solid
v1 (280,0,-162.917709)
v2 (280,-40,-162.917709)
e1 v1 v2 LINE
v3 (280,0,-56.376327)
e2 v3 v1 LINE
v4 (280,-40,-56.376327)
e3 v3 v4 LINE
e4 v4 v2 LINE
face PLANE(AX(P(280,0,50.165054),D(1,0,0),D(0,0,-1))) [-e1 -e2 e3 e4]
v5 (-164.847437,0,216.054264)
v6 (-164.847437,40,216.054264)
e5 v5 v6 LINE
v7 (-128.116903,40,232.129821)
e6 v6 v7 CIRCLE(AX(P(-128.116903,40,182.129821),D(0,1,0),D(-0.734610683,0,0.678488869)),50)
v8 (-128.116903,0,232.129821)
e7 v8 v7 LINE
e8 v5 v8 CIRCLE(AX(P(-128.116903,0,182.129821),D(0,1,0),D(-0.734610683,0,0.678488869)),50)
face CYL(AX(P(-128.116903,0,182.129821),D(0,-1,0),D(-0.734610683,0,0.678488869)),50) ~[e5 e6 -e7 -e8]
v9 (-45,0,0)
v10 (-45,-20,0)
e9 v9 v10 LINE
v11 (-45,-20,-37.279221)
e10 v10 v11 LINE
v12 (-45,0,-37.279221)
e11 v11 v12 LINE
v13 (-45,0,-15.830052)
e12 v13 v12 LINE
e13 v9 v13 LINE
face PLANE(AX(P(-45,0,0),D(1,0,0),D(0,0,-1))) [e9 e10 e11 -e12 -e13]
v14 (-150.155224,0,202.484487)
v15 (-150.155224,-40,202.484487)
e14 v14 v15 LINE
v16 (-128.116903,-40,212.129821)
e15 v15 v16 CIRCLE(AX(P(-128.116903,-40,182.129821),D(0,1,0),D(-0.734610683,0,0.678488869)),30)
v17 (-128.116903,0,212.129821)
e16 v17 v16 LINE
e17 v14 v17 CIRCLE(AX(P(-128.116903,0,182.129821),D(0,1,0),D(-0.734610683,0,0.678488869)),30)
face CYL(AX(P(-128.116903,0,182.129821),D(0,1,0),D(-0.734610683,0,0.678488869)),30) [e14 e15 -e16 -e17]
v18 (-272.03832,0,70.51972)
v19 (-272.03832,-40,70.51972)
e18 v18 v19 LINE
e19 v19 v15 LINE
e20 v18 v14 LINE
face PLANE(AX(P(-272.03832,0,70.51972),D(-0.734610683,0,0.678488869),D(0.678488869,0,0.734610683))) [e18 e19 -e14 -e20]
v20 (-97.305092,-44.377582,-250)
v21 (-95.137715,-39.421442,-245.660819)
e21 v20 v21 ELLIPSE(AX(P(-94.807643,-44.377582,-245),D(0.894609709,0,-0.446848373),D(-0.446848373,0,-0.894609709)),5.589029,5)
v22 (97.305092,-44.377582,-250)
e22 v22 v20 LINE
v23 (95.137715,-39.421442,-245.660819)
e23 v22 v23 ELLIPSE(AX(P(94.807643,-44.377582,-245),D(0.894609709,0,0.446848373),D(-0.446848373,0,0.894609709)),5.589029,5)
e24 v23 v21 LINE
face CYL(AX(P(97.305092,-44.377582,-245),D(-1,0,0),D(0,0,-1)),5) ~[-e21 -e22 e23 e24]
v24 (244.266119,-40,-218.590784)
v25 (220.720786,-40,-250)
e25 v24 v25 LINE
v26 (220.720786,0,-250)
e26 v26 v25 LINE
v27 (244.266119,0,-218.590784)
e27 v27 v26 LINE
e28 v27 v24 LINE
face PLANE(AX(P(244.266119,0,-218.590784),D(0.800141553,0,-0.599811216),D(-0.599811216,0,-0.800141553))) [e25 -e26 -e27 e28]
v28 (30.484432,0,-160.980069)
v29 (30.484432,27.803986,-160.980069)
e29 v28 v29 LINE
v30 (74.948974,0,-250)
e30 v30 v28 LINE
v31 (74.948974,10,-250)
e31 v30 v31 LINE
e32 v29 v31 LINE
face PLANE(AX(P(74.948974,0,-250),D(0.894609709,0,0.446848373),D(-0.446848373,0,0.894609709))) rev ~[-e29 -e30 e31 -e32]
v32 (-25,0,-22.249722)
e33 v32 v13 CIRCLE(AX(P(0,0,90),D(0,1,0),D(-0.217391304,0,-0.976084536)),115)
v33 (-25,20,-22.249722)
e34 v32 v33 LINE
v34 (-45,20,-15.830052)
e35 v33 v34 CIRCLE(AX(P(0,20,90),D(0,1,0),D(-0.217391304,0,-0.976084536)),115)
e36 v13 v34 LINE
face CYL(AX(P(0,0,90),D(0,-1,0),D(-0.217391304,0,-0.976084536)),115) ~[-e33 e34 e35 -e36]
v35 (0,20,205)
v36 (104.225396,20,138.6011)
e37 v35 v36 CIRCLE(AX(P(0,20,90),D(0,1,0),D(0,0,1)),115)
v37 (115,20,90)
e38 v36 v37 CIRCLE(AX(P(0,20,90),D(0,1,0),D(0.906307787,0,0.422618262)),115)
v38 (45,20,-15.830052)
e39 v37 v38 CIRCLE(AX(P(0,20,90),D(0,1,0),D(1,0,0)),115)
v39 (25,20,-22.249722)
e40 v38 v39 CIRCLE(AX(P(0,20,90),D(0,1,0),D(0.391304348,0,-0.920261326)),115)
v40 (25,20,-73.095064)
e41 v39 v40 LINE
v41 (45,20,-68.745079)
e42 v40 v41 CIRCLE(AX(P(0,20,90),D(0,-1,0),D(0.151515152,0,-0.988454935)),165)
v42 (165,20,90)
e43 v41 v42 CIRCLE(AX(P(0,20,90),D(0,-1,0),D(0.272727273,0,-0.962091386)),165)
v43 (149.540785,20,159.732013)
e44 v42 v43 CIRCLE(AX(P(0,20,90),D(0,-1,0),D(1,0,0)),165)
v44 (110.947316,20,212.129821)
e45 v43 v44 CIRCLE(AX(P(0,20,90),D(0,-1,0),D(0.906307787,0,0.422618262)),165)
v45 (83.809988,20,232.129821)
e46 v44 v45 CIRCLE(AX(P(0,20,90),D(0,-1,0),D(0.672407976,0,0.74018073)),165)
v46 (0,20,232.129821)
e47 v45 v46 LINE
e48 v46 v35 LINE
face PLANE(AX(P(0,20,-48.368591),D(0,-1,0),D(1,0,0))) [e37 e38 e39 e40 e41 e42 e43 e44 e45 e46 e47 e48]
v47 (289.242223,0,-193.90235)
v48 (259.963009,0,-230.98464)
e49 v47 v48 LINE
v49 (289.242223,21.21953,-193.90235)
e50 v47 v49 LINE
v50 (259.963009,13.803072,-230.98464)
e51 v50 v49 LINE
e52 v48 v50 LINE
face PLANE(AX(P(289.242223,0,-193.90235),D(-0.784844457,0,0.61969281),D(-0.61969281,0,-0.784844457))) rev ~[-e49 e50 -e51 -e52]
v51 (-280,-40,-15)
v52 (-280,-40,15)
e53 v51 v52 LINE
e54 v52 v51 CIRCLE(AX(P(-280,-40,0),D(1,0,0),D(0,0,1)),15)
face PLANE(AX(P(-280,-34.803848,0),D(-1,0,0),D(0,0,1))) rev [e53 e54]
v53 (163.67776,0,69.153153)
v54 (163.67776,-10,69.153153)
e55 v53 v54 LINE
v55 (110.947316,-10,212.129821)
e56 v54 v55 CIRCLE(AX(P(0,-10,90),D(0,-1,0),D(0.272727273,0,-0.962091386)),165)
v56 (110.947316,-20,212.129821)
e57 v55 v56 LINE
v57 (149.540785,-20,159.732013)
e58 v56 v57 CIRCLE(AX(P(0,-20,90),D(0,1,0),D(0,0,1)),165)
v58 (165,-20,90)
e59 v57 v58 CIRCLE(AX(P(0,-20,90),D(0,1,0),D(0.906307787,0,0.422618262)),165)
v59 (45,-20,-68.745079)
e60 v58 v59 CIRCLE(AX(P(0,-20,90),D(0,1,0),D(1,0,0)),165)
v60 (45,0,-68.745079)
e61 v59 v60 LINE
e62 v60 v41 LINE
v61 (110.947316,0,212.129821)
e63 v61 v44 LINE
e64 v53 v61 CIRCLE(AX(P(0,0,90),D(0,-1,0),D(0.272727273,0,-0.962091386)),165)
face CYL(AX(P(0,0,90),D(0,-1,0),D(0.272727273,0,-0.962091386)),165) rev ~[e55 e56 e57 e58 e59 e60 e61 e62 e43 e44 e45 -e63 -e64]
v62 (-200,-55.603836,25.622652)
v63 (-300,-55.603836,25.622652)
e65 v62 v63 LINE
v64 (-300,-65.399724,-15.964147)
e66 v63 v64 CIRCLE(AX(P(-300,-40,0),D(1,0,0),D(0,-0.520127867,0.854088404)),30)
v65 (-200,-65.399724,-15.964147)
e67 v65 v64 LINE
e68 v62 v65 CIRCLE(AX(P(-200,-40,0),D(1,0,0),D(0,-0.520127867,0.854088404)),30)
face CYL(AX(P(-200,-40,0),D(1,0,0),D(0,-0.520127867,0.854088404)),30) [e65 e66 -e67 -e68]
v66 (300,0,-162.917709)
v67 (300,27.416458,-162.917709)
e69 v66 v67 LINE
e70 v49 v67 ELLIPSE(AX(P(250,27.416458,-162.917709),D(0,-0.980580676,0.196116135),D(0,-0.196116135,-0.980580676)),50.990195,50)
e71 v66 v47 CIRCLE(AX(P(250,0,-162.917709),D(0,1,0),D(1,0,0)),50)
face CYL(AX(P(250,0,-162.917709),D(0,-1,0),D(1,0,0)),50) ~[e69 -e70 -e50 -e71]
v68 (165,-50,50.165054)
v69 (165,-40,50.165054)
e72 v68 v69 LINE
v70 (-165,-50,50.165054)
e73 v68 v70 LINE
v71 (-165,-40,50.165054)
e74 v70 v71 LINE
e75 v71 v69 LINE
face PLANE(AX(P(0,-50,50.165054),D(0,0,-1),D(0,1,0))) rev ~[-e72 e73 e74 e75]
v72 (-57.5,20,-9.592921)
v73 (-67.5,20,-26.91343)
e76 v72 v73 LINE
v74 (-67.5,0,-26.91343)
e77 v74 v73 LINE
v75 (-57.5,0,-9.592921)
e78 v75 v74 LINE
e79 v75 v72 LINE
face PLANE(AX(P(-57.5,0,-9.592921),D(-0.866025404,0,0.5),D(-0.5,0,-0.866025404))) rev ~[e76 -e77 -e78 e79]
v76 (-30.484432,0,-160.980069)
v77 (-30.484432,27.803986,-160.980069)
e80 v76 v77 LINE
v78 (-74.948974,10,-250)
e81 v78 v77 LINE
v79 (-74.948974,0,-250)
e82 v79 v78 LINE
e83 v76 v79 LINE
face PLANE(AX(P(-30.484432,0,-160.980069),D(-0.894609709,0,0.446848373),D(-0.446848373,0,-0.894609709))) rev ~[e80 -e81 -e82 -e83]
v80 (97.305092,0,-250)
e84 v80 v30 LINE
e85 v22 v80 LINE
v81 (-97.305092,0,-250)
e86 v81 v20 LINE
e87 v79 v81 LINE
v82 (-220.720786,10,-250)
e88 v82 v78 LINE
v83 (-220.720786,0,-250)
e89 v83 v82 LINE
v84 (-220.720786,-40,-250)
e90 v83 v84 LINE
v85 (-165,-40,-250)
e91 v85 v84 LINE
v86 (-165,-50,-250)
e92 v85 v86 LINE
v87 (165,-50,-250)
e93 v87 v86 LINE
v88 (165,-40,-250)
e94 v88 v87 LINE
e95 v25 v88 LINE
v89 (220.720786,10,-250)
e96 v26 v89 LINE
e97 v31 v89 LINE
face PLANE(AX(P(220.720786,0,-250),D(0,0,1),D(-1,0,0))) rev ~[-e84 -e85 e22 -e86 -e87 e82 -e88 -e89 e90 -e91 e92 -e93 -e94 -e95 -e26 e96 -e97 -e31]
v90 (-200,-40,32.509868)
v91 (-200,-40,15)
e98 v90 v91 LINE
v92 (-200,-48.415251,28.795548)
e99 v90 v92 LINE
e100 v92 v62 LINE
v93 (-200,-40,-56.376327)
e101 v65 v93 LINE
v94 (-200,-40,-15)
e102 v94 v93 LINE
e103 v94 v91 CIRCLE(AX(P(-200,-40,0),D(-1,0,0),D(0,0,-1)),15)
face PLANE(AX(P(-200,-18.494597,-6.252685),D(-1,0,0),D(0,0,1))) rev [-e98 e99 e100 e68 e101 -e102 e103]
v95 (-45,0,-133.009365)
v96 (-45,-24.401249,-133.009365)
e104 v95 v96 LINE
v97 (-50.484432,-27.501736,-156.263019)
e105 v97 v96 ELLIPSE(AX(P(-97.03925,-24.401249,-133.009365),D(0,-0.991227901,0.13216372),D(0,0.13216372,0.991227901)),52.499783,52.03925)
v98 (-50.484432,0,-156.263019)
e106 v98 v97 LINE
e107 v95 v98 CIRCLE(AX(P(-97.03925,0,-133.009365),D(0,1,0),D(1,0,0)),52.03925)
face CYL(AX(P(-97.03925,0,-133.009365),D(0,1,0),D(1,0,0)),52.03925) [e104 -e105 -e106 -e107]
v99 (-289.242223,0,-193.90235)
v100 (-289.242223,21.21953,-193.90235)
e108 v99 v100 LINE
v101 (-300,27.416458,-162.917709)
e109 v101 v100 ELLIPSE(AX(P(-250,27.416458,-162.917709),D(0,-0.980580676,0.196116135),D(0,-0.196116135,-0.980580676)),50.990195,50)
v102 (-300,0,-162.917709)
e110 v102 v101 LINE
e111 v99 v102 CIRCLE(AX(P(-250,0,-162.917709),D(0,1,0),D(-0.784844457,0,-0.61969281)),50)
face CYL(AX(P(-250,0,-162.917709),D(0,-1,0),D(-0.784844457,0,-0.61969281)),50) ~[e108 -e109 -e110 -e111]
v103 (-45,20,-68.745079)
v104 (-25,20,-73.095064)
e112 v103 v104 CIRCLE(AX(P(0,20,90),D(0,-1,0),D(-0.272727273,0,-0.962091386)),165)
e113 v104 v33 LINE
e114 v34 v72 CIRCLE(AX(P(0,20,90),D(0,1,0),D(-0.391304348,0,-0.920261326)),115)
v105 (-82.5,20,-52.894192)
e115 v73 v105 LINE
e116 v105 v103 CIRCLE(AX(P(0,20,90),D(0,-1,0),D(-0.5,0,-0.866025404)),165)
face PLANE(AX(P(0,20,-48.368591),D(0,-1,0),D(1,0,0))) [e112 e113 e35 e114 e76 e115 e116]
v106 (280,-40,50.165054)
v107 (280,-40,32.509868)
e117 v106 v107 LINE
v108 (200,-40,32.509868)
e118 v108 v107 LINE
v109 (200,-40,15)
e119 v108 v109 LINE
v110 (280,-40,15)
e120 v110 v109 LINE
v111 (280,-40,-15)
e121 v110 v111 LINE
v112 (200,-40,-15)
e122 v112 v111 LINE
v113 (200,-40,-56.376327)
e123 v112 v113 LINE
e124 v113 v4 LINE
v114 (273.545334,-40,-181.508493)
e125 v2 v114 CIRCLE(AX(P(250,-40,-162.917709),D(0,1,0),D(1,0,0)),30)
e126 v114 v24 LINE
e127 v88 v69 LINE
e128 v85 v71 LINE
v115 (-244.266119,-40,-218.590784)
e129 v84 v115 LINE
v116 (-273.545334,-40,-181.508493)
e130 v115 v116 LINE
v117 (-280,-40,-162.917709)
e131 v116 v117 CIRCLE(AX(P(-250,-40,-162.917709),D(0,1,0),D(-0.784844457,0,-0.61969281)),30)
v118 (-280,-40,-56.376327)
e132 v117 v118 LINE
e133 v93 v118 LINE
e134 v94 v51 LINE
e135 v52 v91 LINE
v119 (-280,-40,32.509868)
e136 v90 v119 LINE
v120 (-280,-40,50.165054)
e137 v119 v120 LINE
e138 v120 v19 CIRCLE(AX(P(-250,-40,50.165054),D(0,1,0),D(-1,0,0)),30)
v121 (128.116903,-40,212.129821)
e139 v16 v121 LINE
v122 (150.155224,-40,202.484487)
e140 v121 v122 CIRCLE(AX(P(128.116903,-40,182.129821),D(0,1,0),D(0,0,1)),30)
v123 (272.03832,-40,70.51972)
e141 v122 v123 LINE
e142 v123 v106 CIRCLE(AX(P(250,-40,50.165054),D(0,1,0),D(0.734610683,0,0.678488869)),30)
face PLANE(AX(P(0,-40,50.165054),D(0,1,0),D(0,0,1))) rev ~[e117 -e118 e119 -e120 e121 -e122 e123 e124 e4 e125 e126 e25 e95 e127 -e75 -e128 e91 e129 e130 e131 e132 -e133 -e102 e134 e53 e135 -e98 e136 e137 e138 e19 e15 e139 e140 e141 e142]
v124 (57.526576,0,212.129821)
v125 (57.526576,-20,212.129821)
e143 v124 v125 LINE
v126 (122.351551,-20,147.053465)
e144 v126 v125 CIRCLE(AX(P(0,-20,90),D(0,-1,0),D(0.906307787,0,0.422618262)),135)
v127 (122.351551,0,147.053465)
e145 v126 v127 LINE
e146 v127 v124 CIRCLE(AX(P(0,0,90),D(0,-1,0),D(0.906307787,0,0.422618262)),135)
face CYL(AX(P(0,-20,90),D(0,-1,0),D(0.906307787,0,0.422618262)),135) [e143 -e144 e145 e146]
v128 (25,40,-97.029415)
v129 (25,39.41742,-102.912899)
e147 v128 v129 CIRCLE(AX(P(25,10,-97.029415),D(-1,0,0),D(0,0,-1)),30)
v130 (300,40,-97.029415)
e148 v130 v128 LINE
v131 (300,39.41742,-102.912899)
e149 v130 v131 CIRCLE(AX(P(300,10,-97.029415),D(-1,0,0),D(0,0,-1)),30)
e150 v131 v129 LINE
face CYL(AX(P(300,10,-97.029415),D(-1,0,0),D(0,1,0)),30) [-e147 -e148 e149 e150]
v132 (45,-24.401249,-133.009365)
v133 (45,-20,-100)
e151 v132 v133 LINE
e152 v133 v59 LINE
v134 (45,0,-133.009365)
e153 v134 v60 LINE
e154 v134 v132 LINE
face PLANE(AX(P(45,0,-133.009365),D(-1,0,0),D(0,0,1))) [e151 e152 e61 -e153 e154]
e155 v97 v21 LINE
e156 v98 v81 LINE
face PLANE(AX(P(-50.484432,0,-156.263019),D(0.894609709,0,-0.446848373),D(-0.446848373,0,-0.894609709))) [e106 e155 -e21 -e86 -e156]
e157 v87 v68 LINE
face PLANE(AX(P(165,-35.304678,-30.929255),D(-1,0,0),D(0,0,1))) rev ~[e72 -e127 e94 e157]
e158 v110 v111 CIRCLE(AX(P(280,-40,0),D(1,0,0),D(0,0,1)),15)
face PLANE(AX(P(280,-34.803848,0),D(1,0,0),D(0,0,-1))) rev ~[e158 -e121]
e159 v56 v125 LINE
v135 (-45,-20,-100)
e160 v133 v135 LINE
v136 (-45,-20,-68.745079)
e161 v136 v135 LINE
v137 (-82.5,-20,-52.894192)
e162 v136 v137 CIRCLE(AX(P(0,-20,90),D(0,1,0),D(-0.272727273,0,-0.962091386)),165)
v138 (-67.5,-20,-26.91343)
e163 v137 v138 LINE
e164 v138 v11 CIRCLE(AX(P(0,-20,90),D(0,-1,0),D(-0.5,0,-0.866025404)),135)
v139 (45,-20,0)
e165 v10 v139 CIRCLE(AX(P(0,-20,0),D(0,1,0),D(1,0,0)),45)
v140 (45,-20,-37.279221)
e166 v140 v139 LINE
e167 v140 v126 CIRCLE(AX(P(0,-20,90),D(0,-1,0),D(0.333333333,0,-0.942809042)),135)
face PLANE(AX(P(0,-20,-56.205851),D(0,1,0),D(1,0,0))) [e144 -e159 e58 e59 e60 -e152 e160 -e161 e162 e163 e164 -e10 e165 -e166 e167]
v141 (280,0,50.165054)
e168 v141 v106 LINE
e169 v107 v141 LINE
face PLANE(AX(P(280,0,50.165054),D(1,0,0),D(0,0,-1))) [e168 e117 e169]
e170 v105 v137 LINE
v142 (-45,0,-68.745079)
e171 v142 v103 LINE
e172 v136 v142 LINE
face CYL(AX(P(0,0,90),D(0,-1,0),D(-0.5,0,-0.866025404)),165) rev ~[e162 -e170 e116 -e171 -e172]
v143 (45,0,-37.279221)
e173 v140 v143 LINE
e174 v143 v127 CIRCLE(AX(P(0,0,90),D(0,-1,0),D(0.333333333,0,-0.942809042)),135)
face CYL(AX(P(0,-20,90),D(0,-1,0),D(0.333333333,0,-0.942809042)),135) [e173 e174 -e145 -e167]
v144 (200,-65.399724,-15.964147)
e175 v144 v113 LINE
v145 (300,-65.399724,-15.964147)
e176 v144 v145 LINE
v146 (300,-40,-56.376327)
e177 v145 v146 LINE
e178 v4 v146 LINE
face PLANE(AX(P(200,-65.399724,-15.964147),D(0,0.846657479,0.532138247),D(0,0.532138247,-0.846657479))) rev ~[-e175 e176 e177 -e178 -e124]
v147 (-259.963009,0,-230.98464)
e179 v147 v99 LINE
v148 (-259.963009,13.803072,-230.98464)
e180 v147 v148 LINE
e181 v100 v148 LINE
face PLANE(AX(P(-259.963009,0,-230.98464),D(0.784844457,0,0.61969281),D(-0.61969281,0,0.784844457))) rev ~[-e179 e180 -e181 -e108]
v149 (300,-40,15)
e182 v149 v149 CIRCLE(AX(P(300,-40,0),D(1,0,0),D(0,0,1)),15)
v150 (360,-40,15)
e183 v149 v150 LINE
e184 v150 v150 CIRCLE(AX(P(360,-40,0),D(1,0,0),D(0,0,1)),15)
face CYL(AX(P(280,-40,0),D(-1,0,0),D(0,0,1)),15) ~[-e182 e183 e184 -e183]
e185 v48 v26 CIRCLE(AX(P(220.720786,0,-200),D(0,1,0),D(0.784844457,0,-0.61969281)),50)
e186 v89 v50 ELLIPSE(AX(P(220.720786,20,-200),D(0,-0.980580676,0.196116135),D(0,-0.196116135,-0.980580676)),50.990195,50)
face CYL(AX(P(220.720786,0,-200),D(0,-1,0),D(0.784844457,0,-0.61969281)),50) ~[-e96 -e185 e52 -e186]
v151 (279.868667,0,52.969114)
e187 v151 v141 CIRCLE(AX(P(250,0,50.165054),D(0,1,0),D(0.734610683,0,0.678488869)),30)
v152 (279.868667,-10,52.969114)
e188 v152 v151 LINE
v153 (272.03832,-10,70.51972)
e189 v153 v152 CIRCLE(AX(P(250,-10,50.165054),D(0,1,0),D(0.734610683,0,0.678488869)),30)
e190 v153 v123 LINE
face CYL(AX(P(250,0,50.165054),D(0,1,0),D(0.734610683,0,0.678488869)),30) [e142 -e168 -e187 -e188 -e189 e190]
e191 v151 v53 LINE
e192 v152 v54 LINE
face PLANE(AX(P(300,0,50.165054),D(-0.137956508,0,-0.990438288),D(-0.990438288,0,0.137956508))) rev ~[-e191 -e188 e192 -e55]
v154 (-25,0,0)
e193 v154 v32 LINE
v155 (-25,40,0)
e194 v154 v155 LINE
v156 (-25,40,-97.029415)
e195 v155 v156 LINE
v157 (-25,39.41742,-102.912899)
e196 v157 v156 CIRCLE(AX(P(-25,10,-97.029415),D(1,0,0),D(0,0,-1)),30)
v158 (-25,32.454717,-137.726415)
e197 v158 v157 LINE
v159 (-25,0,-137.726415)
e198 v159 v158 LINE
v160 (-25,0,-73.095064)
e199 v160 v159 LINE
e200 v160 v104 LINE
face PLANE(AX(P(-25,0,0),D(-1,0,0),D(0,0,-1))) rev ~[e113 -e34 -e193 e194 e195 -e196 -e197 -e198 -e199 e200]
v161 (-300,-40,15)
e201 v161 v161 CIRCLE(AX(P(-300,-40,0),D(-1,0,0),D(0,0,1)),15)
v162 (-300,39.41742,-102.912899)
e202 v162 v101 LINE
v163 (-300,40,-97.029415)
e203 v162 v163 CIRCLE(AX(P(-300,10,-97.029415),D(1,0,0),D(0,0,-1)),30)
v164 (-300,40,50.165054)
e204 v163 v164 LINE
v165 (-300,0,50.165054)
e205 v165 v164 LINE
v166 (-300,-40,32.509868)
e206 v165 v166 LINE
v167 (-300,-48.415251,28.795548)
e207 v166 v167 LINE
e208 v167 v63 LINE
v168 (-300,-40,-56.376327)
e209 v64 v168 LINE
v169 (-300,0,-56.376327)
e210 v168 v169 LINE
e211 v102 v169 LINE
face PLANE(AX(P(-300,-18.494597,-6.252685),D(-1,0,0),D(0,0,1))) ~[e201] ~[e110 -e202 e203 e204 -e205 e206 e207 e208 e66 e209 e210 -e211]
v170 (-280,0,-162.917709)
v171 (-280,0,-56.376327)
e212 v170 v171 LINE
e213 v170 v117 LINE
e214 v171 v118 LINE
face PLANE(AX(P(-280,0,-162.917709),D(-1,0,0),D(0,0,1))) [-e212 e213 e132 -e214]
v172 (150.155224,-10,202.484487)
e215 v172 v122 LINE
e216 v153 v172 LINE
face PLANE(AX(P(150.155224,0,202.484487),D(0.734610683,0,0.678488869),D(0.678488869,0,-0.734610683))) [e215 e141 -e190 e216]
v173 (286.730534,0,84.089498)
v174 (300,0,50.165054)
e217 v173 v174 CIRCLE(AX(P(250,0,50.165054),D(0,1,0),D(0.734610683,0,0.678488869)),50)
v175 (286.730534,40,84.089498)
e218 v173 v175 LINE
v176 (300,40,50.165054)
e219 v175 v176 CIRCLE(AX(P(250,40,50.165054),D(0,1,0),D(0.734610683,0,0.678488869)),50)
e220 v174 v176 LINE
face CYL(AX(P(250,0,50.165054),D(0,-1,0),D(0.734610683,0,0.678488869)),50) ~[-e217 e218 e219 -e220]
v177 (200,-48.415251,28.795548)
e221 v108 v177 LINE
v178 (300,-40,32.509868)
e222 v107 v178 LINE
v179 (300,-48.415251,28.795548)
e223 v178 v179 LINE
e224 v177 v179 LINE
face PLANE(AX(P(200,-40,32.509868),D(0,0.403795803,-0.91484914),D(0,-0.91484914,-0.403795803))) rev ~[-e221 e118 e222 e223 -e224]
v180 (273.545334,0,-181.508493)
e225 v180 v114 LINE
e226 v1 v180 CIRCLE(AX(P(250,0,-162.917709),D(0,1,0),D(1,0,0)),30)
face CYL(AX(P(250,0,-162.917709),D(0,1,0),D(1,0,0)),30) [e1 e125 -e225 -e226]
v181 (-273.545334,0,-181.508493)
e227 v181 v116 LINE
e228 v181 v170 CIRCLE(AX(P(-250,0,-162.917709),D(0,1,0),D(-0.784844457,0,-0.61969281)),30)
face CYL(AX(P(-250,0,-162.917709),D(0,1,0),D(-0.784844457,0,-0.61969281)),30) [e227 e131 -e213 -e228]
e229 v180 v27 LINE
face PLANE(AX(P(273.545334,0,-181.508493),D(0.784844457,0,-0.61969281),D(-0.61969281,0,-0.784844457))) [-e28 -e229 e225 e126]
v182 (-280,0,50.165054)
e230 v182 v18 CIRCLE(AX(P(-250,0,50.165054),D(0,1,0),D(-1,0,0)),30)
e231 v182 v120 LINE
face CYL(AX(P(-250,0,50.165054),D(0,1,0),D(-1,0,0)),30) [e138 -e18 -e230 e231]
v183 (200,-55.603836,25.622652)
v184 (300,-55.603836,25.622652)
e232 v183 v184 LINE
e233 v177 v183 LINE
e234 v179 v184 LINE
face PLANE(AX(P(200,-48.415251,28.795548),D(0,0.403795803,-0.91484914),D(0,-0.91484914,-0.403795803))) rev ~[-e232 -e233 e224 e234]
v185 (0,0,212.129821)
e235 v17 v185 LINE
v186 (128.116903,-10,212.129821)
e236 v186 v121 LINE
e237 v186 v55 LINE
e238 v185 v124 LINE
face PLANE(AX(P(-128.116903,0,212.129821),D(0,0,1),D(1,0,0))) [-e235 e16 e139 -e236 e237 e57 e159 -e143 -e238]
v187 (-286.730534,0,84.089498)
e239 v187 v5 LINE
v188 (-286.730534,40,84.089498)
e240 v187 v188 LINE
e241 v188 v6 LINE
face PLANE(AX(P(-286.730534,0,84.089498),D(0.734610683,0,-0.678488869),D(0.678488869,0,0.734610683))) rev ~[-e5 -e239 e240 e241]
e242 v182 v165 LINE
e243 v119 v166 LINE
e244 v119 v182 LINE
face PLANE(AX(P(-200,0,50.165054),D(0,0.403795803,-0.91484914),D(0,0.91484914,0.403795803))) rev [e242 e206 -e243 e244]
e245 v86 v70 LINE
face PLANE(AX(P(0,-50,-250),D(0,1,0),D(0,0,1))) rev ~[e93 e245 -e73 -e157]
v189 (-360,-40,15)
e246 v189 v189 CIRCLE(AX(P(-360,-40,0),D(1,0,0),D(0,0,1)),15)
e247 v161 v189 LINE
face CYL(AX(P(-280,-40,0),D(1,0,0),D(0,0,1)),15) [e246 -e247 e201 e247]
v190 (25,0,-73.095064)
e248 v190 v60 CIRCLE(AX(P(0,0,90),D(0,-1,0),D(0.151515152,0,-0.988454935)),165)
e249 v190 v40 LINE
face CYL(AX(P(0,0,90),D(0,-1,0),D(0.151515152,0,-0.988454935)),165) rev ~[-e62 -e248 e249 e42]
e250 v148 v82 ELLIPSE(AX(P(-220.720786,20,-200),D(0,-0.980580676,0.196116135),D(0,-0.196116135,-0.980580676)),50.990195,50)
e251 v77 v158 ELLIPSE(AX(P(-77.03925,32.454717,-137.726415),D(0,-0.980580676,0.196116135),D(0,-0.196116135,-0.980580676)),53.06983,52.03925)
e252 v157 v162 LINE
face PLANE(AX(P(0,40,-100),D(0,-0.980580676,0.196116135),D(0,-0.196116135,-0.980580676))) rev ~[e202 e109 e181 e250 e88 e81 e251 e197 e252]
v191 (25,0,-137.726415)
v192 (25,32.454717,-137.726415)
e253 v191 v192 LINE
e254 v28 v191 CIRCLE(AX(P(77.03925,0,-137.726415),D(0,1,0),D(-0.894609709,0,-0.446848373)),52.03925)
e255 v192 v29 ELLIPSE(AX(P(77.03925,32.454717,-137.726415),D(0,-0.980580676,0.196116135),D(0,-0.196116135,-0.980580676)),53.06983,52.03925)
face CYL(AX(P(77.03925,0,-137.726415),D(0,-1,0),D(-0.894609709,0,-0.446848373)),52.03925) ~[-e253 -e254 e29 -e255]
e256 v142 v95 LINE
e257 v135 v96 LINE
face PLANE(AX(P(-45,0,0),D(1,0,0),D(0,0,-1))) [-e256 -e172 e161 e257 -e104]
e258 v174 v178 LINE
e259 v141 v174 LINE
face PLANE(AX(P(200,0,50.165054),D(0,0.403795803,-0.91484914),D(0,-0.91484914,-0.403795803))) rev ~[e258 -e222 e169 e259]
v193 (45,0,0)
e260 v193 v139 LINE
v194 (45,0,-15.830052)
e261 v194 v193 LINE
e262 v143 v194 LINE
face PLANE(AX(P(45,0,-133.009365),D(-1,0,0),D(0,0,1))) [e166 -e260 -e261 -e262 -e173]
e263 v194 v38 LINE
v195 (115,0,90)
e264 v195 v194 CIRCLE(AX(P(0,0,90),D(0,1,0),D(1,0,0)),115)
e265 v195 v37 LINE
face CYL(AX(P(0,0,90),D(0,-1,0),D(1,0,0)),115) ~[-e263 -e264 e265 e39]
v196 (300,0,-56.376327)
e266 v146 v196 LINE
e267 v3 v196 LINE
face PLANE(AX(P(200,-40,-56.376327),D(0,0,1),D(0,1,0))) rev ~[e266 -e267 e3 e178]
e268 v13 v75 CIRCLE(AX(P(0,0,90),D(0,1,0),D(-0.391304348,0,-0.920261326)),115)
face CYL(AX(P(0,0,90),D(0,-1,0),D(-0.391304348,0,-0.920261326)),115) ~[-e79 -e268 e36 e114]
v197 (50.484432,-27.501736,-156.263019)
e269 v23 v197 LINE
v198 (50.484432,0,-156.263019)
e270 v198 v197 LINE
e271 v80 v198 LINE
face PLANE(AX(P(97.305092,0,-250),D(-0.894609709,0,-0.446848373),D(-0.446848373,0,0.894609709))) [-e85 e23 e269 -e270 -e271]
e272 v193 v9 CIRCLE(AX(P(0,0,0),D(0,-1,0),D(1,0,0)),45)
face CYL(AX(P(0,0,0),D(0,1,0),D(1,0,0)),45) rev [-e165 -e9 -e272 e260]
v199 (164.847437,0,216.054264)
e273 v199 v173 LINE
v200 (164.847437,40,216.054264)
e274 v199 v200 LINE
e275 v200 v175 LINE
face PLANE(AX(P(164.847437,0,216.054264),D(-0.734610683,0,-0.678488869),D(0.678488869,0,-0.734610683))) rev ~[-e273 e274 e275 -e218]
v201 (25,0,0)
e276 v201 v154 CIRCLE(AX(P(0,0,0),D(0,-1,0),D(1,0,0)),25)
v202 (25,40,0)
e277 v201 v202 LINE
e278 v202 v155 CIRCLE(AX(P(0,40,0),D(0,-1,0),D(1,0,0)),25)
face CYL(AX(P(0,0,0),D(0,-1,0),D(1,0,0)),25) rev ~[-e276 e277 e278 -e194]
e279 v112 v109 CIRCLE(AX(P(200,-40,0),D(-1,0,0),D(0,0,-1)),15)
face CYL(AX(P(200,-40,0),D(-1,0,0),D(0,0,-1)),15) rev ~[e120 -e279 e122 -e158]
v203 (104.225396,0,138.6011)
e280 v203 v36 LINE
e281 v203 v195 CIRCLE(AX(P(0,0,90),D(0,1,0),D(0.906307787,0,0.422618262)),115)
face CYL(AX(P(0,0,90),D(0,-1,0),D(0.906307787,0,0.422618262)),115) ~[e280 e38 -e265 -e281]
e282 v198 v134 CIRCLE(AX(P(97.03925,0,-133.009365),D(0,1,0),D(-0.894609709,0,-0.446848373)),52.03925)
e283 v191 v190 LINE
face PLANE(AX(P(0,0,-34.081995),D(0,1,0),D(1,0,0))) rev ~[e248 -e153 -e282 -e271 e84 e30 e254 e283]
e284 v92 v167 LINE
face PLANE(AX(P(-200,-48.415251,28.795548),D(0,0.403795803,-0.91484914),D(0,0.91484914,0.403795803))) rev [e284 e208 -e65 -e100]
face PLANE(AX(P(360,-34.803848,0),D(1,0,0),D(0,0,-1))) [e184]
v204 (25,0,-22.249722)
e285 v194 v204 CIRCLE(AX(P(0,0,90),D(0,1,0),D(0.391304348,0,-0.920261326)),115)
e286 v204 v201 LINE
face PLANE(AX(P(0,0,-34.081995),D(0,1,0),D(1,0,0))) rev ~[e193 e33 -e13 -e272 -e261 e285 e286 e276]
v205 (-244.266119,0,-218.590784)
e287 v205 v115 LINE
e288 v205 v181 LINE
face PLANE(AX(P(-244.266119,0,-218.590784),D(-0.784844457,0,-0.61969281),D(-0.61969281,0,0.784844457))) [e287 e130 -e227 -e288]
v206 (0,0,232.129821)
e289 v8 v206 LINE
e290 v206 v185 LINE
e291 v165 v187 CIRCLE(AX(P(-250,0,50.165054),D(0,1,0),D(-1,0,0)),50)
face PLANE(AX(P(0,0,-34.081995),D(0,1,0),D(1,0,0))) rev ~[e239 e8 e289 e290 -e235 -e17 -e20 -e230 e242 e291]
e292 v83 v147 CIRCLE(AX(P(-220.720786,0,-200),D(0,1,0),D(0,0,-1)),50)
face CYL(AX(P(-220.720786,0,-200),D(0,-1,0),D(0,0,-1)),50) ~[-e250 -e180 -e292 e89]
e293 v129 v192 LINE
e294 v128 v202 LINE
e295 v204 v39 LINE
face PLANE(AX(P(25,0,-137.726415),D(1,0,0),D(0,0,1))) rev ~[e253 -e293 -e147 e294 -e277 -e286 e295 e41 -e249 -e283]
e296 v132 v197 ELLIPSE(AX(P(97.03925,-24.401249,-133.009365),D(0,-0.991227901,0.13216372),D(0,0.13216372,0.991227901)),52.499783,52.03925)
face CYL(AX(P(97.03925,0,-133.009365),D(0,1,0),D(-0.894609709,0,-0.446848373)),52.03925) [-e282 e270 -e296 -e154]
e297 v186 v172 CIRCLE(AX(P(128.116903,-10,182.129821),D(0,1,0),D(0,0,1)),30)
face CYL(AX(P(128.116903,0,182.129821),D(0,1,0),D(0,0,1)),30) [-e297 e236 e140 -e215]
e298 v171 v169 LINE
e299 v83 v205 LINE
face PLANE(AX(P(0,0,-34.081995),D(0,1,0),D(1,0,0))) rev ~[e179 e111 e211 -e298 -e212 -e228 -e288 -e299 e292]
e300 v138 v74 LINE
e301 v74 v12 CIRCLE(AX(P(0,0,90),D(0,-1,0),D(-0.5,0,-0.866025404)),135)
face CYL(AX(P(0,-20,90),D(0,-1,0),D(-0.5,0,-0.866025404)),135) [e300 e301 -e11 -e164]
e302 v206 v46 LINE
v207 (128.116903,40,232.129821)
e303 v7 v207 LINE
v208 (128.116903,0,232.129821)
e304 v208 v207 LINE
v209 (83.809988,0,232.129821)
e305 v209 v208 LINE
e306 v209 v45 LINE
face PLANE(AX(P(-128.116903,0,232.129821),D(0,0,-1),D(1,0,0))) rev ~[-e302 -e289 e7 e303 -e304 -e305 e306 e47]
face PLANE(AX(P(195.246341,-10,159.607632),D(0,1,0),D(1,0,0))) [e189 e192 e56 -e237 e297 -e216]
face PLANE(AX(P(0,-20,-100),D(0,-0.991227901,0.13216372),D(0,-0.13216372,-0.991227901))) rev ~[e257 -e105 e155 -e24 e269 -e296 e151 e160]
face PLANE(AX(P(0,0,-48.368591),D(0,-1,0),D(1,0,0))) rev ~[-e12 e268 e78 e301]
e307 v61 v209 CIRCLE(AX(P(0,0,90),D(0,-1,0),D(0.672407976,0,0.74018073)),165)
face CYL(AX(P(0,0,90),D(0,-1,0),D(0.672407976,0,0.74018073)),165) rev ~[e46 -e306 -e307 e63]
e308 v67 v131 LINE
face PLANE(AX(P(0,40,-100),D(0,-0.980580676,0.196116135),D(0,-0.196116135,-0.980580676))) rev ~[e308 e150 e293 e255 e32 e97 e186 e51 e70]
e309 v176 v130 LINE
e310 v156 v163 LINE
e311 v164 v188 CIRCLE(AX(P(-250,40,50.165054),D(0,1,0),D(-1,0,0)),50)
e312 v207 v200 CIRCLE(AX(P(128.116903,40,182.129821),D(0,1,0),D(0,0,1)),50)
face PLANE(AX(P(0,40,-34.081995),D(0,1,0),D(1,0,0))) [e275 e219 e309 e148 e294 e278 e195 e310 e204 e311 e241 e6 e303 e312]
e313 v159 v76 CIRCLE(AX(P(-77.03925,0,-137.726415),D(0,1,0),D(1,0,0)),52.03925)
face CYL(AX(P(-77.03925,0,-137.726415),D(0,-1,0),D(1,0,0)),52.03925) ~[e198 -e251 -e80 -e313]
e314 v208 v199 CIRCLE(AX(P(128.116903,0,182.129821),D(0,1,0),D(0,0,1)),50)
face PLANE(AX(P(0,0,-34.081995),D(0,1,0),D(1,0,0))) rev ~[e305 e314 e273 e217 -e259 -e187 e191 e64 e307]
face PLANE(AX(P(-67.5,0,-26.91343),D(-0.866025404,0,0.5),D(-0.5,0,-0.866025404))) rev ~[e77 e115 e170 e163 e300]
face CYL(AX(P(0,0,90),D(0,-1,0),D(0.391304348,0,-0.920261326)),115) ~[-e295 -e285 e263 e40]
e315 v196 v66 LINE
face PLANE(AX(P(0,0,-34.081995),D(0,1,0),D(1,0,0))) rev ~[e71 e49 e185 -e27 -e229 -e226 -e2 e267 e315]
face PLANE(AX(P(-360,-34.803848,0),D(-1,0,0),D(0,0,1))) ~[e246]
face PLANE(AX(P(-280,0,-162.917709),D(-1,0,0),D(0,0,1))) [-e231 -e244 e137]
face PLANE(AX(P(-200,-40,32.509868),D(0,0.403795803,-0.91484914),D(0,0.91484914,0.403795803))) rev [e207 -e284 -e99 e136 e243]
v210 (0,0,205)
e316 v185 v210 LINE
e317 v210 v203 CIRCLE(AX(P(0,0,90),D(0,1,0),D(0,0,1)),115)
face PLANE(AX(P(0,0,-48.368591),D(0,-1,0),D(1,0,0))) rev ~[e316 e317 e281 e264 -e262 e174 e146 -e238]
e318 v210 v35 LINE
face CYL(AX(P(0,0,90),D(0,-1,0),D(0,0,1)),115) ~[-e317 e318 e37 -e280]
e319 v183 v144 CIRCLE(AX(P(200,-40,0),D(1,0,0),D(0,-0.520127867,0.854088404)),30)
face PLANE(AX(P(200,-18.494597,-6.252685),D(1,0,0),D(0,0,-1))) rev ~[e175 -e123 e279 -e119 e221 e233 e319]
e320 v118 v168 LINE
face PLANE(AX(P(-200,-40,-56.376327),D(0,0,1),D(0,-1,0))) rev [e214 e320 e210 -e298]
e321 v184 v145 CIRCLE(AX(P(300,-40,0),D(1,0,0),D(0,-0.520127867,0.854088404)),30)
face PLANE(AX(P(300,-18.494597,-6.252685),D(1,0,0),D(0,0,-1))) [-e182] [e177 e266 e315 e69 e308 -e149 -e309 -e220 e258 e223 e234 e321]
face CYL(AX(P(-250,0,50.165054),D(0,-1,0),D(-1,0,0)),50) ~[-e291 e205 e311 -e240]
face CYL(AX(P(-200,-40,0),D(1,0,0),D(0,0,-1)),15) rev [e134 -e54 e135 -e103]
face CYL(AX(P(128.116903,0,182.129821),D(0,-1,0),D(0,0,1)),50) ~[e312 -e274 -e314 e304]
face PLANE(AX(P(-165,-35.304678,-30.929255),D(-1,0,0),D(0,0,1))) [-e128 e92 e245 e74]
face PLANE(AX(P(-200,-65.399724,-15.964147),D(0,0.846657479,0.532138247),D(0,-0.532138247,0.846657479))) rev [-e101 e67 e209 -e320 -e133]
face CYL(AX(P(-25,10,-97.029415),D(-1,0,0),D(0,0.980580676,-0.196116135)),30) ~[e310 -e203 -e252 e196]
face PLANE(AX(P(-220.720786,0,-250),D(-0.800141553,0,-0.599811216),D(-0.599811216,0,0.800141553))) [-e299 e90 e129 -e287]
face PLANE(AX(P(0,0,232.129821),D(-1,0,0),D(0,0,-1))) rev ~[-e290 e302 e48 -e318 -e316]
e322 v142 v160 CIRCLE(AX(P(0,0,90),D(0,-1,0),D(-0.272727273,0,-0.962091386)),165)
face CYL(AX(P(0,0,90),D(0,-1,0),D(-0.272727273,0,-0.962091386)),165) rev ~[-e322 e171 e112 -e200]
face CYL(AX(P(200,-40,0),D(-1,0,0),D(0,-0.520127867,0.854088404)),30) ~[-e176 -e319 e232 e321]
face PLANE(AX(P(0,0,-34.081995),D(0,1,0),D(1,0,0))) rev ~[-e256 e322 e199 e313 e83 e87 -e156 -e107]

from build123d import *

# Parameters (mm, degrees)
BOSS_EXTRUDE1_DEPTH = 40
BOSS_EXTRUDE2_DEPTH = 40
CUT_EXTRUDE1_DEPTH  = 340
FILLET1_R           = 30
BOSS_EXTRUDE3_DEPTH = 165
FILLET2_R           = 5
BOSS_EXTRUDE4_START = -80
BOSS_EXTRUDE4_DEPTH = 100
BOSS_EXTRUDE5_DEPTH = 80
CUT_EXTRUDE2_DEPTH  = 20
CUT_EXTRUDE3_DEPTH  = 20
CUT_EXTRUDE4_DEPTH  = 10


with BuildPart() as part:
    # Sketch1 → Boss-Extrude1 (new body)
    with BuildSketch(Plane(origin=(0, 0, 0), x_dir=(1, 0, 0), z_dir=(0, 1, 0))):
        with BuildLine():
            Line((-25, 0), (-25, 137.726414563))
            ThreePointArc((-25, 137.726414563), (-26.389662789, 149.672244603), (-30.484431688, 160.980068695))
            Line((-30.484431688, 160.980068695), (-74.948974278, 250))
            Line((-74.948974278, 250), (-220.720785685, 250))
            ThreePointArc((-220.720785685, 250), (-242.524087913, 244.995733264), (-259.963008538, 230.984640477))
            Line((-259.963008538, 230.984640477), (-289.242222854, 193.902349528))
            ThreePointArc((-289.242222854, 193.902349528), (-297.234050973, 179.317234308), (-300, 162.917709051))
            Line((-300, 162.917709051), (-300, -50.165054409))
            ThreePointArc((-300, -50.165054409), (-296.564614821, -68.378693434), (-286.730534139, -84.089497837))
            Line((-286.730534139, -84.089497837), (-164.847437487, -216.05426395))
            ThreePointArc((-164.847437487, -216.05426395), (-148.164070588, -227.93496309), (-128.116903349, -232.129820522))
            Line((-128.116903349, -232.129820522), (128.116903349, -232.129820522))
            ThreePointArc((128.116903349, -232.129820522), (148.164070588, -227.93496309), (164.847437487, -216.05426395))
            Line((164.847437487, -216.05426395), (286.730534139, -84.089497837))
            ThreePointArc((286.730534139, -84.089497837), (296.564614821, -68.378693434), (300, -50.165054409))
            Line((300, -50.165054409), (300, 162.917709051))
            ThreePointArc((300, 162.917709051), (297.234050973, 179.317234308), (289.242222854, 193.902349528))
            Line((289.242222854, 193.902349528), (259.963008538, 230.984640477))
            ThreePointArc((259.963008538, 230.984640477), (242.524087913, 244.995733264), (220.720785685, 250))
            Line((220.720785685, 250), (74.948974278, 250))
            Line((74.948974278, 250), (30.484431688, 160.980068695))
            ThreePointArc((30.484431688, 160.980068695), (26.389662789, 149.672244603), (25, 137.726414563))
            Line((25, 137.726414563), (25, 0))
            ThreePointArc((25, 0), (0, -25), (-25, 0))
        make_face()
    extrude(amount=BOSS_EXTRUDE1_DEPTH)

    # Sketch1<4> → Boss-Extrude2 (add)
    with BuildSketch(Plane(origin=(0, 0, 0), x_dir=(1, 0, 0), z_dir=(0, 1, 0))):
        with BuildLine():
            Line((-50.484431688, 156.26301936), (-97.305092037, 250))
            Line((-97.305092037, 250), (-220.720785685, 250))
            Line((-220.720785685, 250), (-244.266119397, 218.590784286))
            Line((-244.266119397, 218.590784286), (-273.545333712, 181.508493337))
            ThreePointArc((-273.545333712, 181.508493337), (-278.340430584, 172.757424205), (-280, 162.917709051))
            Line((-280, 162.917709051), (-280, -50.165054409))
            ThreePointArc((-280, -50.165054409), (-277.938768893, -61.093237824), (-272.038320483, -70.519720466))
            Line((-272.038320483, -70.519720466), (-150.155223832, -202.484486579))
            ThreePointArc((-150.155223832, -202.484486579), (-140.145203692, -209.612906063), (-128.116903349, -212.129820522))
            Line((-128.116903349, -212.129820522), (128.116903349, -212.129820522))
            ThreePointArc((128.116903349, -212.129820522), (140.145203692, -209.612906063), (150.155223832, -202.484486579))
            Line((150.155223832, -202.484486579), (272.038320483, -70.519720466))
            ThreePointArc((272.038320483, -70.519720466), (277.938768893, -61.093237824), (280, -50.165054409))
            Line((280, -50.165054409), (280, 162.917709051))
            ThreePointArc((280, 162.917709051), (278.340430584, 172.757424205), (273.545333712, 181.508493337))
            Line((273.545333712, 181.508493337), (244.266119397, 218.590784286))
            Line((244.266119397, 218.590784286), (220.720785685, 250))
            Line((220.720785685, 250), (97.305092037, 250))
            Line((97.305092037, 250), (50.484431688, 156.26301936))
            ThreePointArc((50.484431688, 156.26301936), (46.389662789, 144.955195268), (45, 133.009365228))
            Line((45, 133.009365228), (45, 0))
            ThreePointArc((45, 0), (0, -45), (-45, 0))
            Line((-45, 0), (-45, 133.009365228))
            ThreePointArc((-45, 133.009365228), (-46.389662789, 144.955195268), (-50.484431688, 156.26301936))
        make_face()
    extrude(amount=-BOSS_EXTRUDE2_DEPTH)

    # Sketch2 → Cut-Extrude1 (cut, symmetric)
    with BuildSketch(Plane(origin=(0, 0, 0), x_dir=(0, 0, -1), z_dir=(1, 0, 0))):
        Polygon((100, 40), (250, 10), (250, 40), align=None)
    extrude(amount=CUT_EXTRUDE1_DEPTH, both=True, mode=Mode.SUBTRACT)

    # Fillet1
    fillet1_edges = [part.edges().sort_by_distance(p)[0] for p in [
        (162.5, 40, -100),
        (-162.5, 40, -100),
    ]]
    fillet(fillet1_edges, radius=FILLET1_R)

    # Sketch3 → Boss-Extrude3 (add, symmetric)
    with BuildSketch(Plane(origin=(0, 0, 0), x_dir=(0, 0, -1), z_dir=(1, 0, 0))):
        Polygon((-181.922721763, -20), (100, -20), (250, -40), (250, -50), (-50.165054409, -50), (-50.165054409, -40), (-181.922721763, -40), align=None)
    extrude(amount=BOSS_EXTRUDE3_DEPTH, both=True)

    # Fillet2
    fillet2_edges = [part.edges().sort_by_distance(p)[0] for p in [
        (0, -40, -250),
    ]]
    fillet(fillet2_edges, radius=FILLET2_R)

    # Sketch4 → Boss-Extrude4 (add)
    with BuildSketch(Plane(origin=(280, 0, 0), x_dir=(0, 0, -1), z_dir=(1, 0, 0)).offset(BOSS_EXTRUDE4_START)):
        with BuildLine():
            Line((15, -40), (56.376327321, -40))
            Line((56.376327321, -40), (56.376327321, 0))
            Line((56.376327321, 0), (-50.165054409, 0))
            Line((-50.165054409, 0), (-32.50986797, -40))
            Line((-32.50986797, -40), (-15, -40))
            ThreePointArc((-15, -40), (0, -25), (15, -40))
        make_face()
        with BuildLine():
            ThreePointArc((-25.62265212, -55.603836013), (-6.878338127, -69.200829862), (15.964147414, -65.399724356))
            Line((15.964147414, -65.399724356), (56.376327321, -40))
            Line((56.376327321, -40), (15, -40))
            ThreePointArc((15, -40), (0, -55), (-15, -40))
            Line((-15, -40), (-32.50986797, -40))
            Line((-32.50986797, -40), (-28.795547553, -48.41525051))
            Line((-28.795547553, -48.41525051), (-25.62265212, -55.603836013))
        make_face()
    boss_extrude4 = extrude(amount=BOSS_EXTRUDE4_DEPTH)

    # Sketch4<3> → Boss-Extrude5 (add)
    with BuildSketch(Plane(origin=(280, 0, 0), x_dir=(0, 0, -1), z_dir=(1, 0, 0))):
        with BuildLine():
            Line((-15, -40), (15, -40))
            ThreePointArc((15, -40), (0, -25), (-15, -40))
        make_face()
        with BuildLine():
            ThreePointArc((-15, -40), (0, -55), (15, -40))
            Line((15, -40), (-15, -40))
        make_face()
    boss_extrude5 = extrude(amount=BOSS_EXTRUDE5_DEPTH)

    # Mirror1: Boss-Extrude4, Boss-Extrude5 across plane
    add(boss_extrude4.mirror(Plane(origin=(0, 0, 0), x_dir=(0, 0, 1), z_dir=(1, 0, 0))))
    add(boss_extrude5.mirror(Plane(origin=(0, 0, 0), x_dir=(0, 0, 1), z_dir=(1, 0, 0))))

    # Sketch5 → Cut-Extrude2 (cut)
    with BuildSketch(Plane(origin=(0, -20, 0), x_dir=(1, 0, 0), z_dir=(0, 1, 0))):
        with BuildLine():
            ThreePointArc((-6.81e-07, 45), (22.828766792, 43.055805611), (45, 37.279220614))
            Line((45, 37.279220614), (45, 68.745078664))
            ThreePointArc((45, 68.745078664), (0, 75), (-45, 68.745078664))
            Line((-45, 68.745078664), (-45, 37.279220614))
            ThreePointArc((-45, 37.279220614), (-22.828767464, 43.055805496), (-6.81e-07, 45))
        make_face()
        with BuildLine():
            Line((-82.5, 52.894191624), (-67.5, 26.913429511))
            ThreePointArc((-67.5, 26.913429511), (-56.48827229, 32.613519213), (-45, 37.279220614))
            Line((-45, 37.279220614), (-45, 68.745078664))
            ThreePointArc((-45, 68.745078664), (-64.240759296, 61.980672604), (-82.5, 52.894191624))
        make_face()
        with BuildLine():
            ThreePointArc((45, 37.279220614), (124.484015856, -37.762754702), (122.35155125, -147.053465335))
            Line((122.35155125, -147.053465335), (149.540784861, -159.732013187))
            ThreePointArc((149.540784861, -159.732013187), (161.088841175, -125.7125363), (165, -90))
            ThreePointArc((165, -90), (131.624465811, 9.498743711), (45, 68.745078664))
            Line((45, 68.745078664), (45, 37.279220614))
        make_face()
        with BuildLine():
            ThreePointArc((122.35155125, -147.053465335), (72.535447127, -203.857845185), (0, -225))
            Line((0, -225), (0, -255))
            ThreePointArc((0, -255), (88.654435377, -229.159588559), (149.540784861, -159.732013187))
            Line((149.540784861, -159.732013187), (122.35155125, -147.053465335))
        make_face()
    extrude(amount=CUT_EXTRUDE2_DEPTH, mode=Mode.SUBTRACT)

    # Sketch6 → Cut-Extrude3 (cut)
    with BuildSketch(Plane.XZ):
        with BuildLine():
            ThreePointArc((7.7e-08, -25), (-12.57541279, -24.31036258), (-25, -22.249721603))
            Line((-25, -22.249721603), (-25, -73.095064303))
            ThreePointArc((-25, -73.095064303), (0, -75), (25, -73.095064303))
            Line((25, -73.095064303), (25, -22.249721603))
            ThreePointArc((25, -22.249721603), (12.575412867, -24.310362571), (7.7e-08, -25))
        make_face()
        with BuildLine():
            ThreePointArc((-45, -37.279220614), (-56.48827229, -32.613519213), (-67.5, -26.913429511))
            Line((-67.5, -26.913429511), (-82.5, -52.894191624))
            ThreePointArc((-82.5, -52.894191624), (-64.240759296, -61.980672604), (-45, -68.745078664))
            ThreePointArc((-45, -68.745078664), (-35.067514793, -71.23048535), (-25, -73.095064303))
            Line((-25, -73.095064303), (-25, -22.249721603))
            ThreePointArc((-25, -22.249721603), (-35.14687807, -19.497474683), (-45, -15.830052443))
            Line((-45, -15.830052443), (-45, -37.279220614))
        make_face()
        with BuildLine():
            Line((149.540784861, 159.732013187), (122.35155125, 147.053465335))
            ThreePointArc((122.35155125, 147.053465335), (124.484015856, 37.762754702), (45, -37.279220614))
            Line((45, -37.279220614), (45, -15.830052443))
            ThreePointArc((45, -15.830052443), (35.14687807, -19.497474683), (25, -22.249721603))
            Line((25, -22.249721603), (25, -73.095064303))
            ThreePointArc((25, -73.095064303), (35.067514793, -71.23048535), (45, -68.745078664))
            ThreePointArc((45, -68.745078664), (131.624465811, -9.498743711), (165, 90))
            ThreePointArc((165, 90), (161.088841175, 125.7125363), (149.540784861, 159.732013187))
        make_face()
        with BuildLine():
            ThreePointArc((57.526575939, 212.129820522), (95.64396563, 185.274507811), (122.35155125, 147.053465335))
            Line((122.35155125, 147.053465335), (149.540784861, 159.732013187))
            ThreePointArc((149.540784861, 159.732013187), (132.852908259, 187.852464288), (110.947316053, 212.129820522))
            ThreePointArc((110.947316053, 212.129820522), (97.890765079, 222.824689392), (83.809988178, 232.129820522))
            Line((83.809988178, 232.129820522), (0, 232.129820522))
            Line((0, 232.129820522), (0, 212.129820522))
            Line((0, 212.129820522), (57.526575939, 212.129820522))
        make_face()
        with BuildLine():
            ThreePointArc((0, 205), (61.78945496, 186.990016268), (104.225395509, 138.6011001))
            Line((104.225395509, 138.6011001), (122.35155125, 147.053465335))
            ThreePointArc((122.35155125, 147.053465335), (95.64396563, 185.274507811), (57.526575939, 212.129820522))
            Line((57.526575939, 212.129820522), (0, 212.129820522))
            Line((0, 212.129820522), (0, 205))
        make_face()
        with BuildLine():
            Line((122.35155125, 147.053465335), (104.225395509, 138.6011001))
            ThreePointArc((104.225395509, 138.6011001), (112.274040819, 114.890555603), (115, 90))
            ThreePointArc((115, 90), (95.916630466, 26.557112298), (45, -15.830052443))
            Line((45, -15.830052443), (45, -37.279220614))
            ThreePointArc((45, -37.279220614), (124.484015856, 37.762754702), (122.35155125, 147.053465335))
        make_face()
        with BuildLine():
            ThreePointArc((-45, -15.830052443), (-51.344794778, -12.901467673), (-57.5, -9.592921435))
            Line((-57.5, -9.592921435), (-67.5, -26.913429511))
            ThreePointArc((-67.5, -26.913429511), (-56.48827229, -32.613519213), (-45, -37.279220614))
            Line((-45, -37.279220614), (-45, -15.830052443))
        make_face()
        with BuildLine():
            Line((-83.809988178, 232.129820522), (0, 232.129820522))
            Line((0, 232.129820522), (0, 255))
            ThreePointArc((0, 255), (-43.43719382, 249.179804602), (-83.809988178, 232.129820522))
        make_face()
        with BuildLine():
            Line((0, 255), (0, 232.129820522))
            Line((0, 232.129820522), (83.809988178, 232.129820522))
            ThreePointArc((83.809988178, 232.129820522), (43.43719382, 249.179804602), (0, 255))
        make_face()
    extrude(amount=-CUT_EXTRUDE3_DEPTH, mode=Mode.SUBTRACT)

    # Sketch7 → Cut-Extrude4 (cut)
    with BuildSketch(Plane(origin=(0, 0, 0), x_dir=(1, 0, 0), z_dir=(0, 1, 0))):
        Polygon((300, -50.165054409), (163.677759593, -69.153153364), (68.370461669, -258.499505871), (208.609391352, -264.686517475), (324.100274621, -68.378693434), align=None)
    extrude(amount=-CUT_EXTRUDE4_DEPTH, mode=Mode.SUBTRACT)


solid = part.part
